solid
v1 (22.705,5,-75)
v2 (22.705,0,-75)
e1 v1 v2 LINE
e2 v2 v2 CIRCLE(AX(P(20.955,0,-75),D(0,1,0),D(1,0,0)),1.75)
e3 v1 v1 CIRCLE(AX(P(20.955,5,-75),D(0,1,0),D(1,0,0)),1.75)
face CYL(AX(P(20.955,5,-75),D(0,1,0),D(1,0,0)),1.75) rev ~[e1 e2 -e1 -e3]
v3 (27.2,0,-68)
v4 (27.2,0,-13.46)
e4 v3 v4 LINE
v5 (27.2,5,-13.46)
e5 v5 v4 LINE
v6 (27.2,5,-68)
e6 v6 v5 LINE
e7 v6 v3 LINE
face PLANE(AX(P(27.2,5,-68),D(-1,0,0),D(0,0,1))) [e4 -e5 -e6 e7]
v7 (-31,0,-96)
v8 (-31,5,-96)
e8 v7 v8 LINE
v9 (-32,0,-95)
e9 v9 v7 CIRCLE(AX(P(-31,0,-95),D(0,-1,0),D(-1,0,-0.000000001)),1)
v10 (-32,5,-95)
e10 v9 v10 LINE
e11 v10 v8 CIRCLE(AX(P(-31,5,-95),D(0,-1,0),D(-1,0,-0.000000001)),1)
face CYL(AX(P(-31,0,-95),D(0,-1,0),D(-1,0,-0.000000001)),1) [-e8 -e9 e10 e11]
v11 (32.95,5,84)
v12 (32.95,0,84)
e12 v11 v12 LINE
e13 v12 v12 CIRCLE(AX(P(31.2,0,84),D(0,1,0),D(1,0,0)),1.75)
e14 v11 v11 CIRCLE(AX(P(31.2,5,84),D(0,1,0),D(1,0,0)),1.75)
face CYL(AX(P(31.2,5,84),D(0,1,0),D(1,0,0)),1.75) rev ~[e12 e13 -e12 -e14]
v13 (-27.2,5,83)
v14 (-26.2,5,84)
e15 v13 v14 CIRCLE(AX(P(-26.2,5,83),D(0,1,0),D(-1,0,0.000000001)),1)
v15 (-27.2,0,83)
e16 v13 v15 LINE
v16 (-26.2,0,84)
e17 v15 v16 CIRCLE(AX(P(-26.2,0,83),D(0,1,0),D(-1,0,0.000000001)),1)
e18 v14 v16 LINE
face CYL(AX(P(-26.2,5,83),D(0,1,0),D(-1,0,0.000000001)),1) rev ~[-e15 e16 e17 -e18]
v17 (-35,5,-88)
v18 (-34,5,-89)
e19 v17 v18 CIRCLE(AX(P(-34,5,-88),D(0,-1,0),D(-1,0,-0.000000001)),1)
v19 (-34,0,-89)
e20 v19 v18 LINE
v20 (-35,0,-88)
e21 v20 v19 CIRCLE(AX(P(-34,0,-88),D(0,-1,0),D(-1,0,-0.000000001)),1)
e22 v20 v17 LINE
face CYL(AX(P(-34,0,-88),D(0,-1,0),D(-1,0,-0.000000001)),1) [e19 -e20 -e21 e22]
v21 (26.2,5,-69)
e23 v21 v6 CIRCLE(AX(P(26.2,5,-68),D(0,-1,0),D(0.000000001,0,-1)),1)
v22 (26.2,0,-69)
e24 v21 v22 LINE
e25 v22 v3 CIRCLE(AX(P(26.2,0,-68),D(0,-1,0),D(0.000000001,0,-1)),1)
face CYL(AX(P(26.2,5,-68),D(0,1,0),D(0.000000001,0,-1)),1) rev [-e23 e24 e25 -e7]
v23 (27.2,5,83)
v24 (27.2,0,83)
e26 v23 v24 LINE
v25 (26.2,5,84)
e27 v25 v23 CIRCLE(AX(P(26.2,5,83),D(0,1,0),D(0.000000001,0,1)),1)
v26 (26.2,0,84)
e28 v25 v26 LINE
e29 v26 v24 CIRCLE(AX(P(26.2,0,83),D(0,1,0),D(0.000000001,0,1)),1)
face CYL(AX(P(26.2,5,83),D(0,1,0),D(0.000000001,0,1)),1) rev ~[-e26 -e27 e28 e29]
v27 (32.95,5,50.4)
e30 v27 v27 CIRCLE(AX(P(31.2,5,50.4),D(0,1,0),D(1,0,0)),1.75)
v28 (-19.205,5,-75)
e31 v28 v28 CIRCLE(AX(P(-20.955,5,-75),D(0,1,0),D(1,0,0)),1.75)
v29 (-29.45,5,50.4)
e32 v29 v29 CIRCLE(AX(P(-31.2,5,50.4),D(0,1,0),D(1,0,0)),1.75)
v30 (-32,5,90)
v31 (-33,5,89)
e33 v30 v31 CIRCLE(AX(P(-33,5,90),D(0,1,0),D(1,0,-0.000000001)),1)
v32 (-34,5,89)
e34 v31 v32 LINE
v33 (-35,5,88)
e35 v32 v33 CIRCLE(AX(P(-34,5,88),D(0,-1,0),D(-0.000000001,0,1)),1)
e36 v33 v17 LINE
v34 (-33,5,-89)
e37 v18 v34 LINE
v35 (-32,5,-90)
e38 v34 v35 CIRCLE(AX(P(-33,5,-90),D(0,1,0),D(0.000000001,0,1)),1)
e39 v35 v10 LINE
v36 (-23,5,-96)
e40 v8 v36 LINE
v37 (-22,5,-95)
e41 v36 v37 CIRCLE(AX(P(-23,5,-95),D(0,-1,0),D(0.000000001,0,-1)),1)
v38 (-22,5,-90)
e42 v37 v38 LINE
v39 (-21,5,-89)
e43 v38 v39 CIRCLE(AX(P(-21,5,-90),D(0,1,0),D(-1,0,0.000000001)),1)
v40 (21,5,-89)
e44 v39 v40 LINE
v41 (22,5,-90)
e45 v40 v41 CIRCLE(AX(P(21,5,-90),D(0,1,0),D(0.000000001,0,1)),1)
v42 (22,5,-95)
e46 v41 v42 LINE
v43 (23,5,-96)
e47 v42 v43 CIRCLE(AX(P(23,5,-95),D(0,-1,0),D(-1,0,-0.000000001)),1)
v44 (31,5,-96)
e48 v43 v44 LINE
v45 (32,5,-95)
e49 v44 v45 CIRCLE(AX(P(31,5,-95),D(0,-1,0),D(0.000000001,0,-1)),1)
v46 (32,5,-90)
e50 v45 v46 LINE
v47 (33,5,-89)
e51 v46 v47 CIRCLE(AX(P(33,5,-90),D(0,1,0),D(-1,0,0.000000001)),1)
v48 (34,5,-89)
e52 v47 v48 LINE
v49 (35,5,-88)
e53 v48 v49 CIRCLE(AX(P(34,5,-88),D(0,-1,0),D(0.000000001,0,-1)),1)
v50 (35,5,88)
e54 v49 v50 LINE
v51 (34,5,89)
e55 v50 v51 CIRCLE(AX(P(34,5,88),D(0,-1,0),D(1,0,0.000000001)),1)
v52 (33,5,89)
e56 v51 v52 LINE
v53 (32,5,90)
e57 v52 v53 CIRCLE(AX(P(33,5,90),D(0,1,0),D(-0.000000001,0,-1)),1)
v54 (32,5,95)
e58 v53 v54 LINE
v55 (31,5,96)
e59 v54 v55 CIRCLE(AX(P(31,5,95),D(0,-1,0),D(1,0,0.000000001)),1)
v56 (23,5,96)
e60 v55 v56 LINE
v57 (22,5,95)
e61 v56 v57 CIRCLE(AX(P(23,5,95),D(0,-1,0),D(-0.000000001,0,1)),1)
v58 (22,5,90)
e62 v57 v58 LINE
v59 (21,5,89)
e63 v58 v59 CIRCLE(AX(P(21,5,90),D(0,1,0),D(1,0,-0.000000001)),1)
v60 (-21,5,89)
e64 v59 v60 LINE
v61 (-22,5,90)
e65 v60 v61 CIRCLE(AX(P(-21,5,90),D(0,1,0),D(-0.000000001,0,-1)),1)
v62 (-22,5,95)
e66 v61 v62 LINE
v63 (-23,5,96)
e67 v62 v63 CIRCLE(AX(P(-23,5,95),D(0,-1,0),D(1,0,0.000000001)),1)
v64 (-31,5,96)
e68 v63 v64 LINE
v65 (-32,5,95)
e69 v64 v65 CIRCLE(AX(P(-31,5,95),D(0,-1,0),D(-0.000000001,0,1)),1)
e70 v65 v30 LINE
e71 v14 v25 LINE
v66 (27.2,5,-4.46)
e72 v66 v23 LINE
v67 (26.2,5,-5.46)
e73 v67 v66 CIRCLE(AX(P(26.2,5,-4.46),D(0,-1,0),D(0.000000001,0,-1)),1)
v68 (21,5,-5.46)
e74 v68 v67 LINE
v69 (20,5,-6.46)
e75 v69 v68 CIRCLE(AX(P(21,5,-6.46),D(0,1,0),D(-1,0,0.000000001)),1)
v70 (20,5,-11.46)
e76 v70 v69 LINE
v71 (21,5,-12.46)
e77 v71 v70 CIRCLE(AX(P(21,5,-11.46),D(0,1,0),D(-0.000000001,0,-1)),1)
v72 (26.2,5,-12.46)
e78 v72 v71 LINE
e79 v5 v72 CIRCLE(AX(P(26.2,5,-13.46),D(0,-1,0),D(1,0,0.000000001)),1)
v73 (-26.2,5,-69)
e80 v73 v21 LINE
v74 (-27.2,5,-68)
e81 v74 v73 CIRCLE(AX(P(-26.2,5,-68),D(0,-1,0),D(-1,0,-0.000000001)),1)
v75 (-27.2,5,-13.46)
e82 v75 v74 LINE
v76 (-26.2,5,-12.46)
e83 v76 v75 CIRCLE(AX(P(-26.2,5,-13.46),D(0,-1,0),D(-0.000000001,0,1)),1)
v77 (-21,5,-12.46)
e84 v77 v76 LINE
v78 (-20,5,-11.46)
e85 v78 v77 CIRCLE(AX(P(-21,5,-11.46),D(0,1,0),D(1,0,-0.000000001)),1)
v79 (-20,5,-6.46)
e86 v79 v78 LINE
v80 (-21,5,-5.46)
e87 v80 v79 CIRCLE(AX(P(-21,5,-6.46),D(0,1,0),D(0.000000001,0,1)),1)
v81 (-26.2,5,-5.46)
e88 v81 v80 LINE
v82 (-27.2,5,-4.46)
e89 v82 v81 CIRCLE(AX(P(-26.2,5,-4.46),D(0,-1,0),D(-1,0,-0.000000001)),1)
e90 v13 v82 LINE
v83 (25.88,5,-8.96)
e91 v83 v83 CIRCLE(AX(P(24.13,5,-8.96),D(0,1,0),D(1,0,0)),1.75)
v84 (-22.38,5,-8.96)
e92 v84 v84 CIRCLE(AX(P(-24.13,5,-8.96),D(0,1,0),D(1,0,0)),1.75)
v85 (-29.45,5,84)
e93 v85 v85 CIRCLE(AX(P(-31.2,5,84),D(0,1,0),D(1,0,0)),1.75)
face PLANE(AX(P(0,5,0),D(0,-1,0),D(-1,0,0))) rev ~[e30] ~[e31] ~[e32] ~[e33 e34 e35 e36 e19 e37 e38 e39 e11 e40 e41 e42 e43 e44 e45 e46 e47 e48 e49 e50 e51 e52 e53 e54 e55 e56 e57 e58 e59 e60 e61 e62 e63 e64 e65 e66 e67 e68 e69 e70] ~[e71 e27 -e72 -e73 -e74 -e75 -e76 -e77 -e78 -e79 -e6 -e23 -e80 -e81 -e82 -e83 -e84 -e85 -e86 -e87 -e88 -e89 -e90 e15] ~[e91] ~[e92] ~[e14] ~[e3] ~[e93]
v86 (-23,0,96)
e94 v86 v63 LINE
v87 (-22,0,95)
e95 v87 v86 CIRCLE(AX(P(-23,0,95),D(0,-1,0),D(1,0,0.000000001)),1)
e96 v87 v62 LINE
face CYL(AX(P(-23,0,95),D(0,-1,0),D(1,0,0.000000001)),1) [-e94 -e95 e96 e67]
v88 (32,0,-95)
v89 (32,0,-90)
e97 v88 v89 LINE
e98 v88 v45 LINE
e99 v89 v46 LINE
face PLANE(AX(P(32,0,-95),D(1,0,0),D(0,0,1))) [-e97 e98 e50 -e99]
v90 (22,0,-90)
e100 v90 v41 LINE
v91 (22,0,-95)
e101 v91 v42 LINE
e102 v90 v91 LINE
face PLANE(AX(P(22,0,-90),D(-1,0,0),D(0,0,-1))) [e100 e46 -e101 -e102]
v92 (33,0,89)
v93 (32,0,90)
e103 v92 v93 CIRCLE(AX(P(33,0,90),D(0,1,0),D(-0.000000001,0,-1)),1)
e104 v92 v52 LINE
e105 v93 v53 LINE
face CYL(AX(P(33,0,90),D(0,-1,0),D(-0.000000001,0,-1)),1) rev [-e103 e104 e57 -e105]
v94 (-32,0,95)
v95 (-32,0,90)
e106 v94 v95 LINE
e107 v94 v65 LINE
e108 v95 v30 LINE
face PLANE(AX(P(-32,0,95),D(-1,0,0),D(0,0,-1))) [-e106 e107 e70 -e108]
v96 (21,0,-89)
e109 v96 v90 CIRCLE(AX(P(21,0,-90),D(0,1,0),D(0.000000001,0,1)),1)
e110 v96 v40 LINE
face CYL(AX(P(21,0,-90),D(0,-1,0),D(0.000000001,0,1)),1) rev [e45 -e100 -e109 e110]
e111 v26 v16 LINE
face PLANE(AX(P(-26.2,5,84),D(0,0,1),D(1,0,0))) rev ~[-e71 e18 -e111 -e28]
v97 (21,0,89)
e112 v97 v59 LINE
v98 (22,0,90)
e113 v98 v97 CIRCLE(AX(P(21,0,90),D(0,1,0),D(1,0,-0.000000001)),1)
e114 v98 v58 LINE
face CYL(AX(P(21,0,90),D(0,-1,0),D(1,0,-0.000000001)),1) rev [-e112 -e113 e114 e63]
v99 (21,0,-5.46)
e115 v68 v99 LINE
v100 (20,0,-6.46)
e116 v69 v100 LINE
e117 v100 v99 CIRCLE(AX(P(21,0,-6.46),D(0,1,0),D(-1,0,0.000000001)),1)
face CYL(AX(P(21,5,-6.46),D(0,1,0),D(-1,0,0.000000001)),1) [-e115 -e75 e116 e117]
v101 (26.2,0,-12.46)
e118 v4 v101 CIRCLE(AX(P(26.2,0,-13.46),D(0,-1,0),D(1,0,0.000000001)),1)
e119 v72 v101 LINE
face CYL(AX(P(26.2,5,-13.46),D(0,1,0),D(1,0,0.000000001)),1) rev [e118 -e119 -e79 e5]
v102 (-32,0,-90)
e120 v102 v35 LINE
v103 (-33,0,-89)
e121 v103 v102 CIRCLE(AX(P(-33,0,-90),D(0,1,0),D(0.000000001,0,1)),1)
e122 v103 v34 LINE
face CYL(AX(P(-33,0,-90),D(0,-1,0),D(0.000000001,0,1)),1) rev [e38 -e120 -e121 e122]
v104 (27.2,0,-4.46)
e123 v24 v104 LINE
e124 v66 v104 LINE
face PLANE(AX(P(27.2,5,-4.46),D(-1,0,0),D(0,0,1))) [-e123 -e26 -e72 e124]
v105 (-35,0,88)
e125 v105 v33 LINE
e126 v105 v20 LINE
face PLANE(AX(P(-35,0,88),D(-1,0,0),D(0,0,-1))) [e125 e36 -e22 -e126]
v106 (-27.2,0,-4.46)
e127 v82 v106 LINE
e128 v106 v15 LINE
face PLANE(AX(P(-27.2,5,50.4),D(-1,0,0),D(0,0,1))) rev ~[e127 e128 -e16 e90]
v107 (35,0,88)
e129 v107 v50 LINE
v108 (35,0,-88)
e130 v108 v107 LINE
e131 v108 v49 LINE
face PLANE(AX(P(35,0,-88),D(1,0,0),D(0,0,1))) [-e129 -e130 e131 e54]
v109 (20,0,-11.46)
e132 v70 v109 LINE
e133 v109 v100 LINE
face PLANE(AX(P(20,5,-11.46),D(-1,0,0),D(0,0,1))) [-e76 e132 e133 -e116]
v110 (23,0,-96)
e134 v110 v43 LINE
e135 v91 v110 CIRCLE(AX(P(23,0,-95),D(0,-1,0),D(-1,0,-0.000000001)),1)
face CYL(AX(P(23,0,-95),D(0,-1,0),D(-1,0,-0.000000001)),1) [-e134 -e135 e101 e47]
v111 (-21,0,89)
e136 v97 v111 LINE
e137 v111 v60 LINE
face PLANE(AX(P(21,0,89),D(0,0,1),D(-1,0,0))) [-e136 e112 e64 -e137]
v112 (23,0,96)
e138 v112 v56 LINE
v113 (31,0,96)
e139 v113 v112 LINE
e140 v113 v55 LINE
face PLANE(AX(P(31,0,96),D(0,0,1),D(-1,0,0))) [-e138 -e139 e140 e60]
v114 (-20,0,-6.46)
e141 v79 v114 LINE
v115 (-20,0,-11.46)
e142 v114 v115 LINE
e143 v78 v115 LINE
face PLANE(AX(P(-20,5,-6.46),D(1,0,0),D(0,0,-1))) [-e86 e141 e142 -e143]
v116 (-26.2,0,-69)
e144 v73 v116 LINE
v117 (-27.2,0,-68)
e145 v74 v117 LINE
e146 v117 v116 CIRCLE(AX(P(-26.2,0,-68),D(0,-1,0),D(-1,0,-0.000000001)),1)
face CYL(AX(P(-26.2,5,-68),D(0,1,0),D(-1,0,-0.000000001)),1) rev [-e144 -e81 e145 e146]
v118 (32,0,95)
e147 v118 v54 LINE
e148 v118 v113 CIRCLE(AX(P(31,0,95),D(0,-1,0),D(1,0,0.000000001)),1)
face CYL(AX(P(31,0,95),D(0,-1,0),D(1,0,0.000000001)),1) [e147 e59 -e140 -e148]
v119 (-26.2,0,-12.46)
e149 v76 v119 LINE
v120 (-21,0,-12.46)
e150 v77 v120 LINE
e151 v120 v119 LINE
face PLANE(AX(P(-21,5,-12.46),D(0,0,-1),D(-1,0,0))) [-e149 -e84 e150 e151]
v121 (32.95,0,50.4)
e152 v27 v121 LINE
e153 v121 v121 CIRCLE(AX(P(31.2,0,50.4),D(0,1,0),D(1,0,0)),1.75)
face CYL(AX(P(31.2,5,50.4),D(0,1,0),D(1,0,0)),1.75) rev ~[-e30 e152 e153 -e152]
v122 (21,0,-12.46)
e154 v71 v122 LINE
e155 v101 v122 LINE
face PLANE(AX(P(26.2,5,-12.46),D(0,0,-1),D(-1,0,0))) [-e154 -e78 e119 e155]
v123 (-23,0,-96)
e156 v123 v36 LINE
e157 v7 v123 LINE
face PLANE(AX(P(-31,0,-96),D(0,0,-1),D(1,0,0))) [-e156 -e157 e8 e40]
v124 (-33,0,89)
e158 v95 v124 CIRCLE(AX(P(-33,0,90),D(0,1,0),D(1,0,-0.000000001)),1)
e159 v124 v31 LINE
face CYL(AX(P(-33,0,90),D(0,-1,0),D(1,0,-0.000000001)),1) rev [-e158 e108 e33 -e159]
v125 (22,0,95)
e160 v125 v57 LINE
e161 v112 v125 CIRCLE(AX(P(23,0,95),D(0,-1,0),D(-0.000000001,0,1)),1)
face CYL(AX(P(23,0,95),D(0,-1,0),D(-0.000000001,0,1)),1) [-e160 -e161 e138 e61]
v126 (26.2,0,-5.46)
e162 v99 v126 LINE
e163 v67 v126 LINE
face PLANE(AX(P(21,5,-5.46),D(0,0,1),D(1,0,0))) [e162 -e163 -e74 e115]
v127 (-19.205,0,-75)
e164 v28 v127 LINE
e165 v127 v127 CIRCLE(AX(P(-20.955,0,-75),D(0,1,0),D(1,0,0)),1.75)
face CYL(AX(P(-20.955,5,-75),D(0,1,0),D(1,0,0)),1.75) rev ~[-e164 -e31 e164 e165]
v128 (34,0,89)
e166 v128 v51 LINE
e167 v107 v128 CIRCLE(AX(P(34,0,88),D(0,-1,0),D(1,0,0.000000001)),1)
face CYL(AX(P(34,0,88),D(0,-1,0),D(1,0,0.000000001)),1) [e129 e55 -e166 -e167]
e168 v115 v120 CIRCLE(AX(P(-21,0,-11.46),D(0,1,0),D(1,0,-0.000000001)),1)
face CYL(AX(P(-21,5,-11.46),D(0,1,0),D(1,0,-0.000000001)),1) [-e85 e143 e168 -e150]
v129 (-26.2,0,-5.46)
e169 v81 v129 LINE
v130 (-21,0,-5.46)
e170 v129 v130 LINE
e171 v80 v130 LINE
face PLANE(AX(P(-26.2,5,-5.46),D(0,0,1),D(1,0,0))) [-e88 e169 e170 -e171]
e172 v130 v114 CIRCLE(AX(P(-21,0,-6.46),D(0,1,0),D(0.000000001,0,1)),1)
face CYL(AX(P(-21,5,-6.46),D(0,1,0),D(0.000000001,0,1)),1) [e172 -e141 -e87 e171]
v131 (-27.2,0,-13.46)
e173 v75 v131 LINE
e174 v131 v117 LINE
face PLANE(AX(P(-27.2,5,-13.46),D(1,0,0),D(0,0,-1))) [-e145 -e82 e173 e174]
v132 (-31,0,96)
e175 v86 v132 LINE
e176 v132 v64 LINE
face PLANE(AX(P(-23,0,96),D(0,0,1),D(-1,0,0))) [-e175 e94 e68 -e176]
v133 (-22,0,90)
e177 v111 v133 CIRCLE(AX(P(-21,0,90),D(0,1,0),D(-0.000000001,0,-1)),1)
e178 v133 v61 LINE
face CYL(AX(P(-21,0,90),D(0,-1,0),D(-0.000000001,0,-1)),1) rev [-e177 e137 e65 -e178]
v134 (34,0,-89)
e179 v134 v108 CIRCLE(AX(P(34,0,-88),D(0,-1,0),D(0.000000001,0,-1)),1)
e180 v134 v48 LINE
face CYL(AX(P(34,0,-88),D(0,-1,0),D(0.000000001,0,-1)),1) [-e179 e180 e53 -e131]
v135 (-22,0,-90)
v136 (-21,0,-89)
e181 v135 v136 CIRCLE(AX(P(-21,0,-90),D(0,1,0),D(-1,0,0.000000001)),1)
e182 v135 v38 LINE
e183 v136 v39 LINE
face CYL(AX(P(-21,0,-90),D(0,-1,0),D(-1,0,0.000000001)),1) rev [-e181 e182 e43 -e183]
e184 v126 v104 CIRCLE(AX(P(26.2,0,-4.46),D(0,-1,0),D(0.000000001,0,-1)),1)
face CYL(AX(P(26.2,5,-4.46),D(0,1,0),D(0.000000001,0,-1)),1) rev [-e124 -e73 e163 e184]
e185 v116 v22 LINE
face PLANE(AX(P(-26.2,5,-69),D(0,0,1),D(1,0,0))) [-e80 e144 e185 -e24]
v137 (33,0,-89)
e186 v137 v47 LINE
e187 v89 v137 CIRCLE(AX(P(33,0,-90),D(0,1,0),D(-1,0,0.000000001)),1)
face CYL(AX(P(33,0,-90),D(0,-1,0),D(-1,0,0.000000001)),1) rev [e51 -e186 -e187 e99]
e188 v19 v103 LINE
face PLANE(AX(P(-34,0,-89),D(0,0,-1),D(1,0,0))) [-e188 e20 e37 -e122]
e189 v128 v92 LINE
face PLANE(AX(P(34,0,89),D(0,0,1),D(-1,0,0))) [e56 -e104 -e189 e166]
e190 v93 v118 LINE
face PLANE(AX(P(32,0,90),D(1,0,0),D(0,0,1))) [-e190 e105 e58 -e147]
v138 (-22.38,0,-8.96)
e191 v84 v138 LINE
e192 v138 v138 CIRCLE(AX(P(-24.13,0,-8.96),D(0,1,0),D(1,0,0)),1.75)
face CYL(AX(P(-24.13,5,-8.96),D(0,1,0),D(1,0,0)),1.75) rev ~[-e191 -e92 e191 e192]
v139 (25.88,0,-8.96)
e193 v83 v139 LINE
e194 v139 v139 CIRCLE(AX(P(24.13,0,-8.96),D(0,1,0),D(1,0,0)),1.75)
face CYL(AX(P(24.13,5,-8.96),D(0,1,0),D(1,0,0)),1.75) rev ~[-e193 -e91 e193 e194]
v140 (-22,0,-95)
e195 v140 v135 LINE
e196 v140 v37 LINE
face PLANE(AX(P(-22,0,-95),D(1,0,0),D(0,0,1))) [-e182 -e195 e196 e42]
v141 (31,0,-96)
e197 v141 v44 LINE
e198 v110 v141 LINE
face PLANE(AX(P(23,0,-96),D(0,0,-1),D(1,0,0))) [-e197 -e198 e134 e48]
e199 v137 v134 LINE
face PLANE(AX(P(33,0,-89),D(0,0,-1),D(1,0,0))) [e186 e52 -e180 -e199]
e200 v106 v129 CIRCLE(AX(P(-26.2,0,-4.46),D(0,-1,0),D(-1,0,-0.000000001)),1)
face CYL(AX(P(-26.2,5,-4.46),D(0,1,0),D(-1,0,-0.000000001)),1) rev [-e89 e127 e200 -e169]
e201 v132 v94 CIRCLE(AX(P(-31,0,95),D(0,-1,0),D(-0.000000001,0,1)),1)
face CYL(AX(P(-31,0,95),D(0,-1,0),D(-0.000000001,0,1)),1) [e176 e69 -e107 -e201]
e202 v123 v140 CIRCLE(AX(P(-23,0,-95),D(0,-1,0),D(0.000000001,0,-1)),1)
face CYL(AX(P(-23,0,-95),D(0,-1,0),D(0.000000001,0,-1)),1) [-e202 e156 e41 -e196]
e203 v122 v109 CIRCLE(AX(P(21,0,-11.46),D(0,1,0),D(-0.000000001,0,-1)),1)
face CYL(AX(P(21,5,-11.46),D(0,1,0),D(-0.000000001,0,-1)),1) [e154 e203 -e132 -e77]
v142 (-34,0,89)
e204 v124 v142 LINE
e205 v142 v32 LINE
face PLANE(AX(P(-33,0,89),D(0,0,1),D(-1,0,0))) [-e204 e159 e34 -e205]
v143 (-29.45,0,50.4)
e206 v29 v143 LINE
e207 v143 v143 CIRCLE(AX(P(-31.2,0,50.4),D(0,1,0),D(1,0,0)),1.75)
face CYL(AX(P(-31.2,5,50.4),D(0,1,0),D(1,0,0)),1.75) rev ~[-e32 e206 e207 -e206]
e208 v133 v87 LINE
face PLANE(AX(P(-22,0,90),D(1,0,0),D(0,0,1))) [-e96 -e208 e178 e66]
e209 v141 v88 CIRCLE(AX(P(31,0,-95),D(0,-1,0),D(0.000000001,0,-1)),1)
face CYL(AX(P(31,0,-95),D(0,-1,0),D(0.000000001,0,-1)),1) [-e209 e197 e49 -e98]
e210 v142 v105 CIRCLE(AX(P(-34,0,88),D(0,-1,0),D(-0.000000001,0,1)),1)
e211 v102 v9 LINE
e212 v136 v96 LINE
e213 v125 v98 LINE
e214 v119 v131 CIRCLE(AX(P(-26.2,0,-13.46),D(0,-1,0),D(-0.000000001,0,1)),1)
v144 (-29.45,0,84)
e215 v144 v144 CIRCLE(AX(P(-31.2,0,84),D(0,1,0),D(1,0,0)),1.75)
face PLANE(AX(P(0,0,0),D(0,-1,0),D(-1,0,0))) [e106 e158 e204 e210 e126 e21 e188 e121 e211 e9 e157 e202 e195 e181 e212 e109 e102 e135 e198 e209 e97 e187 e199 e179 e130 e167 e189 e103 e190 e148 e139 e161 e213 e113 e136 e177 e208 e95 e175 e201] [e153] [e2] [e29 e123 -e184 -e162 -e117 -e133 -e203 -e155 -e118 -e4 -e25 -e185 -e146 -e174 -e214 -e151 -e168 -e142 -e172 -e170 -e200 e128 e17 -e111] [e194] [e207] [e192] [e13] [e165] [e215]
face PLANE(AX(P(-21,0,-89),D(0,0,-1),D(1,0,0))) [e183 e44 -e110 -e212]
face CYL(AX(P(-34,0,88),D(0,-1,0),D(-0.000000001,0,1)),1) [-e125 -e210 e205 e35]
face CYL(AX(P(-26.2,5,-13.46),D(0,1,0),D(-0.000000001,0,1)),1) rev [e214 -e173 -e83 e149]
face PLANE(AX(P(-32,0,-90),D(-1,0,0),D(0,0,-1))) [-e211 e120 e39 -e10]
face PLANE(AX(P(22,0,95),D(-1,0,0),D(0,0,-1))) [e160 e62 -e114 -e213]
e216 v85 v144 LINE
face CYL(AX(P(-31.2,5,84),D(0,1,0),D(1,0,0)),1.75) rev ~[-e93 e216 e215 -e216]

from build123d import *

# Parameters (mm, degrees)
BOSS_EXTRUDE1_DEPTH = 5
SKETCH2_R           = 1.75
CUT_EXTRUDE1_DEPTH  = 10
SKETCH3_R           = 1.75
CUT_EXTRUDE2_DEPTH  = 10
CUT_EXTRUDE3_DEPTH  = 65
SKETCH5_W           = 54.4
SKETCH5_H           = 38
CUT_EXTRUDE4_DEPTH  = 5
CUT_EXTRUDE5_DEPTH  = 5


with BuildPart() as part:
    # Sketch1 → Boss-Extrude1 (new body)
    with BuildSketch(Plane(origin=(0, 0, 0), x_dir=(1, 0, 0), z_dir=(0, 1, 0))):
        with BuildLine():
            Line((34, -89), (33, -89))
            ThreePointArc((33, -89), (32.292893219, -89.292893219), (32, -90))
            Line((32, -90), (32, -95))
            ThreePointArc((32, -95), (31.707106781, -95.707106781), (31, -96))
            Line((31, -96), (23, -96))
            ThreePointArc((23, -96), (22.292893219, -95.707106781), (22, -95))
            Line((22, -95), (22, -90))
            ThreePointArc((22, -90), (21.707106781, -89.292893219), (21, -89))
            Line((21, -89), (-21, -89))
            ThreePointArc((-21, -89), (-21.707106781, -89.292893219), (-22, -90))
            Line((-22, -90), (-22, -95))
            ThreePointArc((-22, -95), (-22.292893219, -95.707106781), (-23, -96))
            Line((-23, -96), (-31, -96))
            ThreePointArc((-31, -96), (-31.707106781, -95.707106781), (-32, -95))
            Line((-32, -95), (-32, -90))
            ThreePointArc((-32, -90), (-32.292893219, -89.292893219), (-33, -89))
            Line((-33, -89), (-34, -89))
            ThreePointArc((-34, -89), (-34.707106781, -88.707106781), (-35, -88))
            Line((-35, -88), (-35, 88))
            ThreePointArc((-35, 88), (-34.707106781, 88.707106781), (-34, 89))
            Line((-34, 89), (-33, 89))
            ThreePointArc((-33, 89), (-32.292893219, 89.292893219), (-32, 90))
            Line((-32, 90), (-32, 95))
            ThreePointArc((-32, 95), (-31.707106781, 95.707106781), (-31, 96))
            Line((-31, 96), (-23, 96))
            ThreePointArc((-23, 96), (-22.292893219, 95.707106781), (-22, 95))
            Line((-22, 95), (-22, 90))
            ThreePointArc((-22, 90), (-21.707106781, 89.292893219), (-21, 89))
            Line((-21, 89), (21, 89))
            ThreePointArc((21, 89), (21.707106781, 89.292893219), (22, 90))
            Line((22, 90), (22, 95))
            ThreePointArc((22, 95), (22.292893219, 95.707106781), (23, 96))
            Line((23, 96), (31, 96))
            ThreePointArc((31, 96), (31.707106781, 95.707106781), (32, 95))
            Line((32, 95), (32, 90))
            ThreePointArc((32, 90), (32.292893219, 89.292893219), (33, 89))
            Line((33, 89), (34, 89))
            ThreePointArc((34, 89), (34.707106781, 88.707106781), (35, 88))
            Line((35, 88), (35, -88))
            ThreePointArc((35, -88), (34.707106781, -88.707106781), (34, -89))
        make_face()
    extrude(amount=BOSS_EXTRUDE1_DEPTH)

    # Sketch2 → Cut-Extrude1 (cut)
    with BuildSketch(Plane(origin=(0, 5, 0), x_dir=(1, 0, 0), z_dir=(0, 1, 0))):
        with Locations((-20.955, 75)):
            Circle(SKETCH2_R)
        with Locations((-24.13, 8.96)):
            Circle(SKETCH2_R)
        with Locations((20.955, 75)):
            Circle(SKETCH2_R)
        with Locations((24.13, 8.96)):
            Circle(SKETCH2_R)
    extrude(amount=-CUT_EXTRUDE1_DEPTH, mode=Mode.SUBTRACT)

    # Sketch3 → Cut-Extrude2 (cut)
    with BuildSketch(Plane(origin=(0, 5, 0), x_dir=(1, 0, 0), z_dir=(0, 1, 0))):
        with Locations((-31.2, -84)):
            Circle(SKETCH3_R)
        with Locations((31.2, -84)):
            Circle(SKETCH3_R)
        with Locations((31.2, -50.4)):
            Circle(SKETCH3_R)
        with Locations((-31.2, -50.4)):
            Circle(SKETCH3_R)
    extrude(amount=-CUT_EXTRUDE2_DEPTH, mode=Mode.SUBTRACT)

    # Sketch4 → Cut-Extrude3 (cut)
    with BuildSketch(Plane(origin=(0, 5, 0), x_dir=(1, 0, 0), z_dir=(0, 1, 0))):
        with BuildLine():
            Line((-26.2, -84), (26.2, -84))
            ThreePointArc((26.2, -84), (26.907106781, -83.707106781), (27.2, -83))
            Line((27.2, -83), (27.2, -50.4))
            Line((27.2, -50.4), (-27.2, -50.4))
            Line((-27.2, -50.4), (-27.2, -72.4))
            Line((-27.2, -72.4), (-27.2, -83))
            ThreePointArc((-27.2, -83), (-26.907106781, -83.707106781), (-26.2, -84))
        make_face()
    extrude(amount=-CUT_EXTRUDE3_DEPTH, mode=Mode.SUBTRACT)

    # Sketch5 → Cut-Extrude4 (cut)
    with BuildSketch(Plane(origin=(0, 5, 0), x_dir=(1, 0, 0), z_dir=(0, 1, 0))):
        with Locations((0, -31.4)):
            Rectangle(SKETCH5_W, SKETCH5_H)
    extrude(amount=-CUT_EXTRUDE4_DEPTH, mode=Mode.SUBTRACT)

    # Sketch6 → Cut-Extrude5 (cut)
    with BuildSketch(Plane(origin=(0, 5, 0), x_dir=(1, 0, 0), z_dir=(0, 1, 0))):
        with BuildLine():
            Line((26.2, 12.46), (21, 12.46))
            ThreePointArc((21, 12.46), (20.292893219, 12.167106781), (20, 11.46))
            Line((20, 11.46), (20, 6.46))
            ThreePointArc((20, 6.46), (20.292893219, 5.752893219), (21, 5.46))
            Line((21, 5.46), (26.2, 5.46))
            ThreePointArc((26.2, 5.46), (26.907106781, 5.167106781), (27.2, 4.46))
            Line((27.2, 4.46), (27.2, -12.54))
            Line((27.2, -12.54), (16, -12.54))
            Line((16, -12.54), (-20, -12.54))
            Line((-20, -12.54), (-27.2, -12.54))
            Line((-27.2, -12.54), (-27.2, 4.46))
            ThreePointArc((-27.2, 4.46), (-26.907106781, 5.167106781), (-26.2, 5.46))
            Line((-26.2, 5.46), (-21, 5.46))
            ThreePointArc((-21, 5.46), (-20.292893219, 5.752893219), (-20, 6.46))
            Line((-20, 6.46), (-20, 11.46))
            ThreePointArc((-20, 11.46), (-20.292893219, 12.167106781), (-21, 12.46))
            Line((-21, 12.46), (-26.2, 12.46))
            ThreePointArc((-26.2, 12.46), (-26.907106781, 12.752893219), (-27.2, 13.46))
            Line((-27.2, 13.46), (-27.2, 68))
            ThreePointArc((-27.2, 68), (-26.907106781, 68.707106781), (-26.2, 69))
            Line((-26.2, 69), (26.2, 69))
            ThreePointArc((26.2, 69), (26.907106781, 68.707106781), (27.2, 68))
            Line((27.2, 68), (27.2, 13.46))
            ThreePointArc((27.2, 13.46), (26.907106781, 12.752893219), (26.2, 12.46))
        make_face()
    extrude(amount=-CUT_EXTRUDE5_DEPTH, mode=Mode.SUBTRACT)


solid = part.part
